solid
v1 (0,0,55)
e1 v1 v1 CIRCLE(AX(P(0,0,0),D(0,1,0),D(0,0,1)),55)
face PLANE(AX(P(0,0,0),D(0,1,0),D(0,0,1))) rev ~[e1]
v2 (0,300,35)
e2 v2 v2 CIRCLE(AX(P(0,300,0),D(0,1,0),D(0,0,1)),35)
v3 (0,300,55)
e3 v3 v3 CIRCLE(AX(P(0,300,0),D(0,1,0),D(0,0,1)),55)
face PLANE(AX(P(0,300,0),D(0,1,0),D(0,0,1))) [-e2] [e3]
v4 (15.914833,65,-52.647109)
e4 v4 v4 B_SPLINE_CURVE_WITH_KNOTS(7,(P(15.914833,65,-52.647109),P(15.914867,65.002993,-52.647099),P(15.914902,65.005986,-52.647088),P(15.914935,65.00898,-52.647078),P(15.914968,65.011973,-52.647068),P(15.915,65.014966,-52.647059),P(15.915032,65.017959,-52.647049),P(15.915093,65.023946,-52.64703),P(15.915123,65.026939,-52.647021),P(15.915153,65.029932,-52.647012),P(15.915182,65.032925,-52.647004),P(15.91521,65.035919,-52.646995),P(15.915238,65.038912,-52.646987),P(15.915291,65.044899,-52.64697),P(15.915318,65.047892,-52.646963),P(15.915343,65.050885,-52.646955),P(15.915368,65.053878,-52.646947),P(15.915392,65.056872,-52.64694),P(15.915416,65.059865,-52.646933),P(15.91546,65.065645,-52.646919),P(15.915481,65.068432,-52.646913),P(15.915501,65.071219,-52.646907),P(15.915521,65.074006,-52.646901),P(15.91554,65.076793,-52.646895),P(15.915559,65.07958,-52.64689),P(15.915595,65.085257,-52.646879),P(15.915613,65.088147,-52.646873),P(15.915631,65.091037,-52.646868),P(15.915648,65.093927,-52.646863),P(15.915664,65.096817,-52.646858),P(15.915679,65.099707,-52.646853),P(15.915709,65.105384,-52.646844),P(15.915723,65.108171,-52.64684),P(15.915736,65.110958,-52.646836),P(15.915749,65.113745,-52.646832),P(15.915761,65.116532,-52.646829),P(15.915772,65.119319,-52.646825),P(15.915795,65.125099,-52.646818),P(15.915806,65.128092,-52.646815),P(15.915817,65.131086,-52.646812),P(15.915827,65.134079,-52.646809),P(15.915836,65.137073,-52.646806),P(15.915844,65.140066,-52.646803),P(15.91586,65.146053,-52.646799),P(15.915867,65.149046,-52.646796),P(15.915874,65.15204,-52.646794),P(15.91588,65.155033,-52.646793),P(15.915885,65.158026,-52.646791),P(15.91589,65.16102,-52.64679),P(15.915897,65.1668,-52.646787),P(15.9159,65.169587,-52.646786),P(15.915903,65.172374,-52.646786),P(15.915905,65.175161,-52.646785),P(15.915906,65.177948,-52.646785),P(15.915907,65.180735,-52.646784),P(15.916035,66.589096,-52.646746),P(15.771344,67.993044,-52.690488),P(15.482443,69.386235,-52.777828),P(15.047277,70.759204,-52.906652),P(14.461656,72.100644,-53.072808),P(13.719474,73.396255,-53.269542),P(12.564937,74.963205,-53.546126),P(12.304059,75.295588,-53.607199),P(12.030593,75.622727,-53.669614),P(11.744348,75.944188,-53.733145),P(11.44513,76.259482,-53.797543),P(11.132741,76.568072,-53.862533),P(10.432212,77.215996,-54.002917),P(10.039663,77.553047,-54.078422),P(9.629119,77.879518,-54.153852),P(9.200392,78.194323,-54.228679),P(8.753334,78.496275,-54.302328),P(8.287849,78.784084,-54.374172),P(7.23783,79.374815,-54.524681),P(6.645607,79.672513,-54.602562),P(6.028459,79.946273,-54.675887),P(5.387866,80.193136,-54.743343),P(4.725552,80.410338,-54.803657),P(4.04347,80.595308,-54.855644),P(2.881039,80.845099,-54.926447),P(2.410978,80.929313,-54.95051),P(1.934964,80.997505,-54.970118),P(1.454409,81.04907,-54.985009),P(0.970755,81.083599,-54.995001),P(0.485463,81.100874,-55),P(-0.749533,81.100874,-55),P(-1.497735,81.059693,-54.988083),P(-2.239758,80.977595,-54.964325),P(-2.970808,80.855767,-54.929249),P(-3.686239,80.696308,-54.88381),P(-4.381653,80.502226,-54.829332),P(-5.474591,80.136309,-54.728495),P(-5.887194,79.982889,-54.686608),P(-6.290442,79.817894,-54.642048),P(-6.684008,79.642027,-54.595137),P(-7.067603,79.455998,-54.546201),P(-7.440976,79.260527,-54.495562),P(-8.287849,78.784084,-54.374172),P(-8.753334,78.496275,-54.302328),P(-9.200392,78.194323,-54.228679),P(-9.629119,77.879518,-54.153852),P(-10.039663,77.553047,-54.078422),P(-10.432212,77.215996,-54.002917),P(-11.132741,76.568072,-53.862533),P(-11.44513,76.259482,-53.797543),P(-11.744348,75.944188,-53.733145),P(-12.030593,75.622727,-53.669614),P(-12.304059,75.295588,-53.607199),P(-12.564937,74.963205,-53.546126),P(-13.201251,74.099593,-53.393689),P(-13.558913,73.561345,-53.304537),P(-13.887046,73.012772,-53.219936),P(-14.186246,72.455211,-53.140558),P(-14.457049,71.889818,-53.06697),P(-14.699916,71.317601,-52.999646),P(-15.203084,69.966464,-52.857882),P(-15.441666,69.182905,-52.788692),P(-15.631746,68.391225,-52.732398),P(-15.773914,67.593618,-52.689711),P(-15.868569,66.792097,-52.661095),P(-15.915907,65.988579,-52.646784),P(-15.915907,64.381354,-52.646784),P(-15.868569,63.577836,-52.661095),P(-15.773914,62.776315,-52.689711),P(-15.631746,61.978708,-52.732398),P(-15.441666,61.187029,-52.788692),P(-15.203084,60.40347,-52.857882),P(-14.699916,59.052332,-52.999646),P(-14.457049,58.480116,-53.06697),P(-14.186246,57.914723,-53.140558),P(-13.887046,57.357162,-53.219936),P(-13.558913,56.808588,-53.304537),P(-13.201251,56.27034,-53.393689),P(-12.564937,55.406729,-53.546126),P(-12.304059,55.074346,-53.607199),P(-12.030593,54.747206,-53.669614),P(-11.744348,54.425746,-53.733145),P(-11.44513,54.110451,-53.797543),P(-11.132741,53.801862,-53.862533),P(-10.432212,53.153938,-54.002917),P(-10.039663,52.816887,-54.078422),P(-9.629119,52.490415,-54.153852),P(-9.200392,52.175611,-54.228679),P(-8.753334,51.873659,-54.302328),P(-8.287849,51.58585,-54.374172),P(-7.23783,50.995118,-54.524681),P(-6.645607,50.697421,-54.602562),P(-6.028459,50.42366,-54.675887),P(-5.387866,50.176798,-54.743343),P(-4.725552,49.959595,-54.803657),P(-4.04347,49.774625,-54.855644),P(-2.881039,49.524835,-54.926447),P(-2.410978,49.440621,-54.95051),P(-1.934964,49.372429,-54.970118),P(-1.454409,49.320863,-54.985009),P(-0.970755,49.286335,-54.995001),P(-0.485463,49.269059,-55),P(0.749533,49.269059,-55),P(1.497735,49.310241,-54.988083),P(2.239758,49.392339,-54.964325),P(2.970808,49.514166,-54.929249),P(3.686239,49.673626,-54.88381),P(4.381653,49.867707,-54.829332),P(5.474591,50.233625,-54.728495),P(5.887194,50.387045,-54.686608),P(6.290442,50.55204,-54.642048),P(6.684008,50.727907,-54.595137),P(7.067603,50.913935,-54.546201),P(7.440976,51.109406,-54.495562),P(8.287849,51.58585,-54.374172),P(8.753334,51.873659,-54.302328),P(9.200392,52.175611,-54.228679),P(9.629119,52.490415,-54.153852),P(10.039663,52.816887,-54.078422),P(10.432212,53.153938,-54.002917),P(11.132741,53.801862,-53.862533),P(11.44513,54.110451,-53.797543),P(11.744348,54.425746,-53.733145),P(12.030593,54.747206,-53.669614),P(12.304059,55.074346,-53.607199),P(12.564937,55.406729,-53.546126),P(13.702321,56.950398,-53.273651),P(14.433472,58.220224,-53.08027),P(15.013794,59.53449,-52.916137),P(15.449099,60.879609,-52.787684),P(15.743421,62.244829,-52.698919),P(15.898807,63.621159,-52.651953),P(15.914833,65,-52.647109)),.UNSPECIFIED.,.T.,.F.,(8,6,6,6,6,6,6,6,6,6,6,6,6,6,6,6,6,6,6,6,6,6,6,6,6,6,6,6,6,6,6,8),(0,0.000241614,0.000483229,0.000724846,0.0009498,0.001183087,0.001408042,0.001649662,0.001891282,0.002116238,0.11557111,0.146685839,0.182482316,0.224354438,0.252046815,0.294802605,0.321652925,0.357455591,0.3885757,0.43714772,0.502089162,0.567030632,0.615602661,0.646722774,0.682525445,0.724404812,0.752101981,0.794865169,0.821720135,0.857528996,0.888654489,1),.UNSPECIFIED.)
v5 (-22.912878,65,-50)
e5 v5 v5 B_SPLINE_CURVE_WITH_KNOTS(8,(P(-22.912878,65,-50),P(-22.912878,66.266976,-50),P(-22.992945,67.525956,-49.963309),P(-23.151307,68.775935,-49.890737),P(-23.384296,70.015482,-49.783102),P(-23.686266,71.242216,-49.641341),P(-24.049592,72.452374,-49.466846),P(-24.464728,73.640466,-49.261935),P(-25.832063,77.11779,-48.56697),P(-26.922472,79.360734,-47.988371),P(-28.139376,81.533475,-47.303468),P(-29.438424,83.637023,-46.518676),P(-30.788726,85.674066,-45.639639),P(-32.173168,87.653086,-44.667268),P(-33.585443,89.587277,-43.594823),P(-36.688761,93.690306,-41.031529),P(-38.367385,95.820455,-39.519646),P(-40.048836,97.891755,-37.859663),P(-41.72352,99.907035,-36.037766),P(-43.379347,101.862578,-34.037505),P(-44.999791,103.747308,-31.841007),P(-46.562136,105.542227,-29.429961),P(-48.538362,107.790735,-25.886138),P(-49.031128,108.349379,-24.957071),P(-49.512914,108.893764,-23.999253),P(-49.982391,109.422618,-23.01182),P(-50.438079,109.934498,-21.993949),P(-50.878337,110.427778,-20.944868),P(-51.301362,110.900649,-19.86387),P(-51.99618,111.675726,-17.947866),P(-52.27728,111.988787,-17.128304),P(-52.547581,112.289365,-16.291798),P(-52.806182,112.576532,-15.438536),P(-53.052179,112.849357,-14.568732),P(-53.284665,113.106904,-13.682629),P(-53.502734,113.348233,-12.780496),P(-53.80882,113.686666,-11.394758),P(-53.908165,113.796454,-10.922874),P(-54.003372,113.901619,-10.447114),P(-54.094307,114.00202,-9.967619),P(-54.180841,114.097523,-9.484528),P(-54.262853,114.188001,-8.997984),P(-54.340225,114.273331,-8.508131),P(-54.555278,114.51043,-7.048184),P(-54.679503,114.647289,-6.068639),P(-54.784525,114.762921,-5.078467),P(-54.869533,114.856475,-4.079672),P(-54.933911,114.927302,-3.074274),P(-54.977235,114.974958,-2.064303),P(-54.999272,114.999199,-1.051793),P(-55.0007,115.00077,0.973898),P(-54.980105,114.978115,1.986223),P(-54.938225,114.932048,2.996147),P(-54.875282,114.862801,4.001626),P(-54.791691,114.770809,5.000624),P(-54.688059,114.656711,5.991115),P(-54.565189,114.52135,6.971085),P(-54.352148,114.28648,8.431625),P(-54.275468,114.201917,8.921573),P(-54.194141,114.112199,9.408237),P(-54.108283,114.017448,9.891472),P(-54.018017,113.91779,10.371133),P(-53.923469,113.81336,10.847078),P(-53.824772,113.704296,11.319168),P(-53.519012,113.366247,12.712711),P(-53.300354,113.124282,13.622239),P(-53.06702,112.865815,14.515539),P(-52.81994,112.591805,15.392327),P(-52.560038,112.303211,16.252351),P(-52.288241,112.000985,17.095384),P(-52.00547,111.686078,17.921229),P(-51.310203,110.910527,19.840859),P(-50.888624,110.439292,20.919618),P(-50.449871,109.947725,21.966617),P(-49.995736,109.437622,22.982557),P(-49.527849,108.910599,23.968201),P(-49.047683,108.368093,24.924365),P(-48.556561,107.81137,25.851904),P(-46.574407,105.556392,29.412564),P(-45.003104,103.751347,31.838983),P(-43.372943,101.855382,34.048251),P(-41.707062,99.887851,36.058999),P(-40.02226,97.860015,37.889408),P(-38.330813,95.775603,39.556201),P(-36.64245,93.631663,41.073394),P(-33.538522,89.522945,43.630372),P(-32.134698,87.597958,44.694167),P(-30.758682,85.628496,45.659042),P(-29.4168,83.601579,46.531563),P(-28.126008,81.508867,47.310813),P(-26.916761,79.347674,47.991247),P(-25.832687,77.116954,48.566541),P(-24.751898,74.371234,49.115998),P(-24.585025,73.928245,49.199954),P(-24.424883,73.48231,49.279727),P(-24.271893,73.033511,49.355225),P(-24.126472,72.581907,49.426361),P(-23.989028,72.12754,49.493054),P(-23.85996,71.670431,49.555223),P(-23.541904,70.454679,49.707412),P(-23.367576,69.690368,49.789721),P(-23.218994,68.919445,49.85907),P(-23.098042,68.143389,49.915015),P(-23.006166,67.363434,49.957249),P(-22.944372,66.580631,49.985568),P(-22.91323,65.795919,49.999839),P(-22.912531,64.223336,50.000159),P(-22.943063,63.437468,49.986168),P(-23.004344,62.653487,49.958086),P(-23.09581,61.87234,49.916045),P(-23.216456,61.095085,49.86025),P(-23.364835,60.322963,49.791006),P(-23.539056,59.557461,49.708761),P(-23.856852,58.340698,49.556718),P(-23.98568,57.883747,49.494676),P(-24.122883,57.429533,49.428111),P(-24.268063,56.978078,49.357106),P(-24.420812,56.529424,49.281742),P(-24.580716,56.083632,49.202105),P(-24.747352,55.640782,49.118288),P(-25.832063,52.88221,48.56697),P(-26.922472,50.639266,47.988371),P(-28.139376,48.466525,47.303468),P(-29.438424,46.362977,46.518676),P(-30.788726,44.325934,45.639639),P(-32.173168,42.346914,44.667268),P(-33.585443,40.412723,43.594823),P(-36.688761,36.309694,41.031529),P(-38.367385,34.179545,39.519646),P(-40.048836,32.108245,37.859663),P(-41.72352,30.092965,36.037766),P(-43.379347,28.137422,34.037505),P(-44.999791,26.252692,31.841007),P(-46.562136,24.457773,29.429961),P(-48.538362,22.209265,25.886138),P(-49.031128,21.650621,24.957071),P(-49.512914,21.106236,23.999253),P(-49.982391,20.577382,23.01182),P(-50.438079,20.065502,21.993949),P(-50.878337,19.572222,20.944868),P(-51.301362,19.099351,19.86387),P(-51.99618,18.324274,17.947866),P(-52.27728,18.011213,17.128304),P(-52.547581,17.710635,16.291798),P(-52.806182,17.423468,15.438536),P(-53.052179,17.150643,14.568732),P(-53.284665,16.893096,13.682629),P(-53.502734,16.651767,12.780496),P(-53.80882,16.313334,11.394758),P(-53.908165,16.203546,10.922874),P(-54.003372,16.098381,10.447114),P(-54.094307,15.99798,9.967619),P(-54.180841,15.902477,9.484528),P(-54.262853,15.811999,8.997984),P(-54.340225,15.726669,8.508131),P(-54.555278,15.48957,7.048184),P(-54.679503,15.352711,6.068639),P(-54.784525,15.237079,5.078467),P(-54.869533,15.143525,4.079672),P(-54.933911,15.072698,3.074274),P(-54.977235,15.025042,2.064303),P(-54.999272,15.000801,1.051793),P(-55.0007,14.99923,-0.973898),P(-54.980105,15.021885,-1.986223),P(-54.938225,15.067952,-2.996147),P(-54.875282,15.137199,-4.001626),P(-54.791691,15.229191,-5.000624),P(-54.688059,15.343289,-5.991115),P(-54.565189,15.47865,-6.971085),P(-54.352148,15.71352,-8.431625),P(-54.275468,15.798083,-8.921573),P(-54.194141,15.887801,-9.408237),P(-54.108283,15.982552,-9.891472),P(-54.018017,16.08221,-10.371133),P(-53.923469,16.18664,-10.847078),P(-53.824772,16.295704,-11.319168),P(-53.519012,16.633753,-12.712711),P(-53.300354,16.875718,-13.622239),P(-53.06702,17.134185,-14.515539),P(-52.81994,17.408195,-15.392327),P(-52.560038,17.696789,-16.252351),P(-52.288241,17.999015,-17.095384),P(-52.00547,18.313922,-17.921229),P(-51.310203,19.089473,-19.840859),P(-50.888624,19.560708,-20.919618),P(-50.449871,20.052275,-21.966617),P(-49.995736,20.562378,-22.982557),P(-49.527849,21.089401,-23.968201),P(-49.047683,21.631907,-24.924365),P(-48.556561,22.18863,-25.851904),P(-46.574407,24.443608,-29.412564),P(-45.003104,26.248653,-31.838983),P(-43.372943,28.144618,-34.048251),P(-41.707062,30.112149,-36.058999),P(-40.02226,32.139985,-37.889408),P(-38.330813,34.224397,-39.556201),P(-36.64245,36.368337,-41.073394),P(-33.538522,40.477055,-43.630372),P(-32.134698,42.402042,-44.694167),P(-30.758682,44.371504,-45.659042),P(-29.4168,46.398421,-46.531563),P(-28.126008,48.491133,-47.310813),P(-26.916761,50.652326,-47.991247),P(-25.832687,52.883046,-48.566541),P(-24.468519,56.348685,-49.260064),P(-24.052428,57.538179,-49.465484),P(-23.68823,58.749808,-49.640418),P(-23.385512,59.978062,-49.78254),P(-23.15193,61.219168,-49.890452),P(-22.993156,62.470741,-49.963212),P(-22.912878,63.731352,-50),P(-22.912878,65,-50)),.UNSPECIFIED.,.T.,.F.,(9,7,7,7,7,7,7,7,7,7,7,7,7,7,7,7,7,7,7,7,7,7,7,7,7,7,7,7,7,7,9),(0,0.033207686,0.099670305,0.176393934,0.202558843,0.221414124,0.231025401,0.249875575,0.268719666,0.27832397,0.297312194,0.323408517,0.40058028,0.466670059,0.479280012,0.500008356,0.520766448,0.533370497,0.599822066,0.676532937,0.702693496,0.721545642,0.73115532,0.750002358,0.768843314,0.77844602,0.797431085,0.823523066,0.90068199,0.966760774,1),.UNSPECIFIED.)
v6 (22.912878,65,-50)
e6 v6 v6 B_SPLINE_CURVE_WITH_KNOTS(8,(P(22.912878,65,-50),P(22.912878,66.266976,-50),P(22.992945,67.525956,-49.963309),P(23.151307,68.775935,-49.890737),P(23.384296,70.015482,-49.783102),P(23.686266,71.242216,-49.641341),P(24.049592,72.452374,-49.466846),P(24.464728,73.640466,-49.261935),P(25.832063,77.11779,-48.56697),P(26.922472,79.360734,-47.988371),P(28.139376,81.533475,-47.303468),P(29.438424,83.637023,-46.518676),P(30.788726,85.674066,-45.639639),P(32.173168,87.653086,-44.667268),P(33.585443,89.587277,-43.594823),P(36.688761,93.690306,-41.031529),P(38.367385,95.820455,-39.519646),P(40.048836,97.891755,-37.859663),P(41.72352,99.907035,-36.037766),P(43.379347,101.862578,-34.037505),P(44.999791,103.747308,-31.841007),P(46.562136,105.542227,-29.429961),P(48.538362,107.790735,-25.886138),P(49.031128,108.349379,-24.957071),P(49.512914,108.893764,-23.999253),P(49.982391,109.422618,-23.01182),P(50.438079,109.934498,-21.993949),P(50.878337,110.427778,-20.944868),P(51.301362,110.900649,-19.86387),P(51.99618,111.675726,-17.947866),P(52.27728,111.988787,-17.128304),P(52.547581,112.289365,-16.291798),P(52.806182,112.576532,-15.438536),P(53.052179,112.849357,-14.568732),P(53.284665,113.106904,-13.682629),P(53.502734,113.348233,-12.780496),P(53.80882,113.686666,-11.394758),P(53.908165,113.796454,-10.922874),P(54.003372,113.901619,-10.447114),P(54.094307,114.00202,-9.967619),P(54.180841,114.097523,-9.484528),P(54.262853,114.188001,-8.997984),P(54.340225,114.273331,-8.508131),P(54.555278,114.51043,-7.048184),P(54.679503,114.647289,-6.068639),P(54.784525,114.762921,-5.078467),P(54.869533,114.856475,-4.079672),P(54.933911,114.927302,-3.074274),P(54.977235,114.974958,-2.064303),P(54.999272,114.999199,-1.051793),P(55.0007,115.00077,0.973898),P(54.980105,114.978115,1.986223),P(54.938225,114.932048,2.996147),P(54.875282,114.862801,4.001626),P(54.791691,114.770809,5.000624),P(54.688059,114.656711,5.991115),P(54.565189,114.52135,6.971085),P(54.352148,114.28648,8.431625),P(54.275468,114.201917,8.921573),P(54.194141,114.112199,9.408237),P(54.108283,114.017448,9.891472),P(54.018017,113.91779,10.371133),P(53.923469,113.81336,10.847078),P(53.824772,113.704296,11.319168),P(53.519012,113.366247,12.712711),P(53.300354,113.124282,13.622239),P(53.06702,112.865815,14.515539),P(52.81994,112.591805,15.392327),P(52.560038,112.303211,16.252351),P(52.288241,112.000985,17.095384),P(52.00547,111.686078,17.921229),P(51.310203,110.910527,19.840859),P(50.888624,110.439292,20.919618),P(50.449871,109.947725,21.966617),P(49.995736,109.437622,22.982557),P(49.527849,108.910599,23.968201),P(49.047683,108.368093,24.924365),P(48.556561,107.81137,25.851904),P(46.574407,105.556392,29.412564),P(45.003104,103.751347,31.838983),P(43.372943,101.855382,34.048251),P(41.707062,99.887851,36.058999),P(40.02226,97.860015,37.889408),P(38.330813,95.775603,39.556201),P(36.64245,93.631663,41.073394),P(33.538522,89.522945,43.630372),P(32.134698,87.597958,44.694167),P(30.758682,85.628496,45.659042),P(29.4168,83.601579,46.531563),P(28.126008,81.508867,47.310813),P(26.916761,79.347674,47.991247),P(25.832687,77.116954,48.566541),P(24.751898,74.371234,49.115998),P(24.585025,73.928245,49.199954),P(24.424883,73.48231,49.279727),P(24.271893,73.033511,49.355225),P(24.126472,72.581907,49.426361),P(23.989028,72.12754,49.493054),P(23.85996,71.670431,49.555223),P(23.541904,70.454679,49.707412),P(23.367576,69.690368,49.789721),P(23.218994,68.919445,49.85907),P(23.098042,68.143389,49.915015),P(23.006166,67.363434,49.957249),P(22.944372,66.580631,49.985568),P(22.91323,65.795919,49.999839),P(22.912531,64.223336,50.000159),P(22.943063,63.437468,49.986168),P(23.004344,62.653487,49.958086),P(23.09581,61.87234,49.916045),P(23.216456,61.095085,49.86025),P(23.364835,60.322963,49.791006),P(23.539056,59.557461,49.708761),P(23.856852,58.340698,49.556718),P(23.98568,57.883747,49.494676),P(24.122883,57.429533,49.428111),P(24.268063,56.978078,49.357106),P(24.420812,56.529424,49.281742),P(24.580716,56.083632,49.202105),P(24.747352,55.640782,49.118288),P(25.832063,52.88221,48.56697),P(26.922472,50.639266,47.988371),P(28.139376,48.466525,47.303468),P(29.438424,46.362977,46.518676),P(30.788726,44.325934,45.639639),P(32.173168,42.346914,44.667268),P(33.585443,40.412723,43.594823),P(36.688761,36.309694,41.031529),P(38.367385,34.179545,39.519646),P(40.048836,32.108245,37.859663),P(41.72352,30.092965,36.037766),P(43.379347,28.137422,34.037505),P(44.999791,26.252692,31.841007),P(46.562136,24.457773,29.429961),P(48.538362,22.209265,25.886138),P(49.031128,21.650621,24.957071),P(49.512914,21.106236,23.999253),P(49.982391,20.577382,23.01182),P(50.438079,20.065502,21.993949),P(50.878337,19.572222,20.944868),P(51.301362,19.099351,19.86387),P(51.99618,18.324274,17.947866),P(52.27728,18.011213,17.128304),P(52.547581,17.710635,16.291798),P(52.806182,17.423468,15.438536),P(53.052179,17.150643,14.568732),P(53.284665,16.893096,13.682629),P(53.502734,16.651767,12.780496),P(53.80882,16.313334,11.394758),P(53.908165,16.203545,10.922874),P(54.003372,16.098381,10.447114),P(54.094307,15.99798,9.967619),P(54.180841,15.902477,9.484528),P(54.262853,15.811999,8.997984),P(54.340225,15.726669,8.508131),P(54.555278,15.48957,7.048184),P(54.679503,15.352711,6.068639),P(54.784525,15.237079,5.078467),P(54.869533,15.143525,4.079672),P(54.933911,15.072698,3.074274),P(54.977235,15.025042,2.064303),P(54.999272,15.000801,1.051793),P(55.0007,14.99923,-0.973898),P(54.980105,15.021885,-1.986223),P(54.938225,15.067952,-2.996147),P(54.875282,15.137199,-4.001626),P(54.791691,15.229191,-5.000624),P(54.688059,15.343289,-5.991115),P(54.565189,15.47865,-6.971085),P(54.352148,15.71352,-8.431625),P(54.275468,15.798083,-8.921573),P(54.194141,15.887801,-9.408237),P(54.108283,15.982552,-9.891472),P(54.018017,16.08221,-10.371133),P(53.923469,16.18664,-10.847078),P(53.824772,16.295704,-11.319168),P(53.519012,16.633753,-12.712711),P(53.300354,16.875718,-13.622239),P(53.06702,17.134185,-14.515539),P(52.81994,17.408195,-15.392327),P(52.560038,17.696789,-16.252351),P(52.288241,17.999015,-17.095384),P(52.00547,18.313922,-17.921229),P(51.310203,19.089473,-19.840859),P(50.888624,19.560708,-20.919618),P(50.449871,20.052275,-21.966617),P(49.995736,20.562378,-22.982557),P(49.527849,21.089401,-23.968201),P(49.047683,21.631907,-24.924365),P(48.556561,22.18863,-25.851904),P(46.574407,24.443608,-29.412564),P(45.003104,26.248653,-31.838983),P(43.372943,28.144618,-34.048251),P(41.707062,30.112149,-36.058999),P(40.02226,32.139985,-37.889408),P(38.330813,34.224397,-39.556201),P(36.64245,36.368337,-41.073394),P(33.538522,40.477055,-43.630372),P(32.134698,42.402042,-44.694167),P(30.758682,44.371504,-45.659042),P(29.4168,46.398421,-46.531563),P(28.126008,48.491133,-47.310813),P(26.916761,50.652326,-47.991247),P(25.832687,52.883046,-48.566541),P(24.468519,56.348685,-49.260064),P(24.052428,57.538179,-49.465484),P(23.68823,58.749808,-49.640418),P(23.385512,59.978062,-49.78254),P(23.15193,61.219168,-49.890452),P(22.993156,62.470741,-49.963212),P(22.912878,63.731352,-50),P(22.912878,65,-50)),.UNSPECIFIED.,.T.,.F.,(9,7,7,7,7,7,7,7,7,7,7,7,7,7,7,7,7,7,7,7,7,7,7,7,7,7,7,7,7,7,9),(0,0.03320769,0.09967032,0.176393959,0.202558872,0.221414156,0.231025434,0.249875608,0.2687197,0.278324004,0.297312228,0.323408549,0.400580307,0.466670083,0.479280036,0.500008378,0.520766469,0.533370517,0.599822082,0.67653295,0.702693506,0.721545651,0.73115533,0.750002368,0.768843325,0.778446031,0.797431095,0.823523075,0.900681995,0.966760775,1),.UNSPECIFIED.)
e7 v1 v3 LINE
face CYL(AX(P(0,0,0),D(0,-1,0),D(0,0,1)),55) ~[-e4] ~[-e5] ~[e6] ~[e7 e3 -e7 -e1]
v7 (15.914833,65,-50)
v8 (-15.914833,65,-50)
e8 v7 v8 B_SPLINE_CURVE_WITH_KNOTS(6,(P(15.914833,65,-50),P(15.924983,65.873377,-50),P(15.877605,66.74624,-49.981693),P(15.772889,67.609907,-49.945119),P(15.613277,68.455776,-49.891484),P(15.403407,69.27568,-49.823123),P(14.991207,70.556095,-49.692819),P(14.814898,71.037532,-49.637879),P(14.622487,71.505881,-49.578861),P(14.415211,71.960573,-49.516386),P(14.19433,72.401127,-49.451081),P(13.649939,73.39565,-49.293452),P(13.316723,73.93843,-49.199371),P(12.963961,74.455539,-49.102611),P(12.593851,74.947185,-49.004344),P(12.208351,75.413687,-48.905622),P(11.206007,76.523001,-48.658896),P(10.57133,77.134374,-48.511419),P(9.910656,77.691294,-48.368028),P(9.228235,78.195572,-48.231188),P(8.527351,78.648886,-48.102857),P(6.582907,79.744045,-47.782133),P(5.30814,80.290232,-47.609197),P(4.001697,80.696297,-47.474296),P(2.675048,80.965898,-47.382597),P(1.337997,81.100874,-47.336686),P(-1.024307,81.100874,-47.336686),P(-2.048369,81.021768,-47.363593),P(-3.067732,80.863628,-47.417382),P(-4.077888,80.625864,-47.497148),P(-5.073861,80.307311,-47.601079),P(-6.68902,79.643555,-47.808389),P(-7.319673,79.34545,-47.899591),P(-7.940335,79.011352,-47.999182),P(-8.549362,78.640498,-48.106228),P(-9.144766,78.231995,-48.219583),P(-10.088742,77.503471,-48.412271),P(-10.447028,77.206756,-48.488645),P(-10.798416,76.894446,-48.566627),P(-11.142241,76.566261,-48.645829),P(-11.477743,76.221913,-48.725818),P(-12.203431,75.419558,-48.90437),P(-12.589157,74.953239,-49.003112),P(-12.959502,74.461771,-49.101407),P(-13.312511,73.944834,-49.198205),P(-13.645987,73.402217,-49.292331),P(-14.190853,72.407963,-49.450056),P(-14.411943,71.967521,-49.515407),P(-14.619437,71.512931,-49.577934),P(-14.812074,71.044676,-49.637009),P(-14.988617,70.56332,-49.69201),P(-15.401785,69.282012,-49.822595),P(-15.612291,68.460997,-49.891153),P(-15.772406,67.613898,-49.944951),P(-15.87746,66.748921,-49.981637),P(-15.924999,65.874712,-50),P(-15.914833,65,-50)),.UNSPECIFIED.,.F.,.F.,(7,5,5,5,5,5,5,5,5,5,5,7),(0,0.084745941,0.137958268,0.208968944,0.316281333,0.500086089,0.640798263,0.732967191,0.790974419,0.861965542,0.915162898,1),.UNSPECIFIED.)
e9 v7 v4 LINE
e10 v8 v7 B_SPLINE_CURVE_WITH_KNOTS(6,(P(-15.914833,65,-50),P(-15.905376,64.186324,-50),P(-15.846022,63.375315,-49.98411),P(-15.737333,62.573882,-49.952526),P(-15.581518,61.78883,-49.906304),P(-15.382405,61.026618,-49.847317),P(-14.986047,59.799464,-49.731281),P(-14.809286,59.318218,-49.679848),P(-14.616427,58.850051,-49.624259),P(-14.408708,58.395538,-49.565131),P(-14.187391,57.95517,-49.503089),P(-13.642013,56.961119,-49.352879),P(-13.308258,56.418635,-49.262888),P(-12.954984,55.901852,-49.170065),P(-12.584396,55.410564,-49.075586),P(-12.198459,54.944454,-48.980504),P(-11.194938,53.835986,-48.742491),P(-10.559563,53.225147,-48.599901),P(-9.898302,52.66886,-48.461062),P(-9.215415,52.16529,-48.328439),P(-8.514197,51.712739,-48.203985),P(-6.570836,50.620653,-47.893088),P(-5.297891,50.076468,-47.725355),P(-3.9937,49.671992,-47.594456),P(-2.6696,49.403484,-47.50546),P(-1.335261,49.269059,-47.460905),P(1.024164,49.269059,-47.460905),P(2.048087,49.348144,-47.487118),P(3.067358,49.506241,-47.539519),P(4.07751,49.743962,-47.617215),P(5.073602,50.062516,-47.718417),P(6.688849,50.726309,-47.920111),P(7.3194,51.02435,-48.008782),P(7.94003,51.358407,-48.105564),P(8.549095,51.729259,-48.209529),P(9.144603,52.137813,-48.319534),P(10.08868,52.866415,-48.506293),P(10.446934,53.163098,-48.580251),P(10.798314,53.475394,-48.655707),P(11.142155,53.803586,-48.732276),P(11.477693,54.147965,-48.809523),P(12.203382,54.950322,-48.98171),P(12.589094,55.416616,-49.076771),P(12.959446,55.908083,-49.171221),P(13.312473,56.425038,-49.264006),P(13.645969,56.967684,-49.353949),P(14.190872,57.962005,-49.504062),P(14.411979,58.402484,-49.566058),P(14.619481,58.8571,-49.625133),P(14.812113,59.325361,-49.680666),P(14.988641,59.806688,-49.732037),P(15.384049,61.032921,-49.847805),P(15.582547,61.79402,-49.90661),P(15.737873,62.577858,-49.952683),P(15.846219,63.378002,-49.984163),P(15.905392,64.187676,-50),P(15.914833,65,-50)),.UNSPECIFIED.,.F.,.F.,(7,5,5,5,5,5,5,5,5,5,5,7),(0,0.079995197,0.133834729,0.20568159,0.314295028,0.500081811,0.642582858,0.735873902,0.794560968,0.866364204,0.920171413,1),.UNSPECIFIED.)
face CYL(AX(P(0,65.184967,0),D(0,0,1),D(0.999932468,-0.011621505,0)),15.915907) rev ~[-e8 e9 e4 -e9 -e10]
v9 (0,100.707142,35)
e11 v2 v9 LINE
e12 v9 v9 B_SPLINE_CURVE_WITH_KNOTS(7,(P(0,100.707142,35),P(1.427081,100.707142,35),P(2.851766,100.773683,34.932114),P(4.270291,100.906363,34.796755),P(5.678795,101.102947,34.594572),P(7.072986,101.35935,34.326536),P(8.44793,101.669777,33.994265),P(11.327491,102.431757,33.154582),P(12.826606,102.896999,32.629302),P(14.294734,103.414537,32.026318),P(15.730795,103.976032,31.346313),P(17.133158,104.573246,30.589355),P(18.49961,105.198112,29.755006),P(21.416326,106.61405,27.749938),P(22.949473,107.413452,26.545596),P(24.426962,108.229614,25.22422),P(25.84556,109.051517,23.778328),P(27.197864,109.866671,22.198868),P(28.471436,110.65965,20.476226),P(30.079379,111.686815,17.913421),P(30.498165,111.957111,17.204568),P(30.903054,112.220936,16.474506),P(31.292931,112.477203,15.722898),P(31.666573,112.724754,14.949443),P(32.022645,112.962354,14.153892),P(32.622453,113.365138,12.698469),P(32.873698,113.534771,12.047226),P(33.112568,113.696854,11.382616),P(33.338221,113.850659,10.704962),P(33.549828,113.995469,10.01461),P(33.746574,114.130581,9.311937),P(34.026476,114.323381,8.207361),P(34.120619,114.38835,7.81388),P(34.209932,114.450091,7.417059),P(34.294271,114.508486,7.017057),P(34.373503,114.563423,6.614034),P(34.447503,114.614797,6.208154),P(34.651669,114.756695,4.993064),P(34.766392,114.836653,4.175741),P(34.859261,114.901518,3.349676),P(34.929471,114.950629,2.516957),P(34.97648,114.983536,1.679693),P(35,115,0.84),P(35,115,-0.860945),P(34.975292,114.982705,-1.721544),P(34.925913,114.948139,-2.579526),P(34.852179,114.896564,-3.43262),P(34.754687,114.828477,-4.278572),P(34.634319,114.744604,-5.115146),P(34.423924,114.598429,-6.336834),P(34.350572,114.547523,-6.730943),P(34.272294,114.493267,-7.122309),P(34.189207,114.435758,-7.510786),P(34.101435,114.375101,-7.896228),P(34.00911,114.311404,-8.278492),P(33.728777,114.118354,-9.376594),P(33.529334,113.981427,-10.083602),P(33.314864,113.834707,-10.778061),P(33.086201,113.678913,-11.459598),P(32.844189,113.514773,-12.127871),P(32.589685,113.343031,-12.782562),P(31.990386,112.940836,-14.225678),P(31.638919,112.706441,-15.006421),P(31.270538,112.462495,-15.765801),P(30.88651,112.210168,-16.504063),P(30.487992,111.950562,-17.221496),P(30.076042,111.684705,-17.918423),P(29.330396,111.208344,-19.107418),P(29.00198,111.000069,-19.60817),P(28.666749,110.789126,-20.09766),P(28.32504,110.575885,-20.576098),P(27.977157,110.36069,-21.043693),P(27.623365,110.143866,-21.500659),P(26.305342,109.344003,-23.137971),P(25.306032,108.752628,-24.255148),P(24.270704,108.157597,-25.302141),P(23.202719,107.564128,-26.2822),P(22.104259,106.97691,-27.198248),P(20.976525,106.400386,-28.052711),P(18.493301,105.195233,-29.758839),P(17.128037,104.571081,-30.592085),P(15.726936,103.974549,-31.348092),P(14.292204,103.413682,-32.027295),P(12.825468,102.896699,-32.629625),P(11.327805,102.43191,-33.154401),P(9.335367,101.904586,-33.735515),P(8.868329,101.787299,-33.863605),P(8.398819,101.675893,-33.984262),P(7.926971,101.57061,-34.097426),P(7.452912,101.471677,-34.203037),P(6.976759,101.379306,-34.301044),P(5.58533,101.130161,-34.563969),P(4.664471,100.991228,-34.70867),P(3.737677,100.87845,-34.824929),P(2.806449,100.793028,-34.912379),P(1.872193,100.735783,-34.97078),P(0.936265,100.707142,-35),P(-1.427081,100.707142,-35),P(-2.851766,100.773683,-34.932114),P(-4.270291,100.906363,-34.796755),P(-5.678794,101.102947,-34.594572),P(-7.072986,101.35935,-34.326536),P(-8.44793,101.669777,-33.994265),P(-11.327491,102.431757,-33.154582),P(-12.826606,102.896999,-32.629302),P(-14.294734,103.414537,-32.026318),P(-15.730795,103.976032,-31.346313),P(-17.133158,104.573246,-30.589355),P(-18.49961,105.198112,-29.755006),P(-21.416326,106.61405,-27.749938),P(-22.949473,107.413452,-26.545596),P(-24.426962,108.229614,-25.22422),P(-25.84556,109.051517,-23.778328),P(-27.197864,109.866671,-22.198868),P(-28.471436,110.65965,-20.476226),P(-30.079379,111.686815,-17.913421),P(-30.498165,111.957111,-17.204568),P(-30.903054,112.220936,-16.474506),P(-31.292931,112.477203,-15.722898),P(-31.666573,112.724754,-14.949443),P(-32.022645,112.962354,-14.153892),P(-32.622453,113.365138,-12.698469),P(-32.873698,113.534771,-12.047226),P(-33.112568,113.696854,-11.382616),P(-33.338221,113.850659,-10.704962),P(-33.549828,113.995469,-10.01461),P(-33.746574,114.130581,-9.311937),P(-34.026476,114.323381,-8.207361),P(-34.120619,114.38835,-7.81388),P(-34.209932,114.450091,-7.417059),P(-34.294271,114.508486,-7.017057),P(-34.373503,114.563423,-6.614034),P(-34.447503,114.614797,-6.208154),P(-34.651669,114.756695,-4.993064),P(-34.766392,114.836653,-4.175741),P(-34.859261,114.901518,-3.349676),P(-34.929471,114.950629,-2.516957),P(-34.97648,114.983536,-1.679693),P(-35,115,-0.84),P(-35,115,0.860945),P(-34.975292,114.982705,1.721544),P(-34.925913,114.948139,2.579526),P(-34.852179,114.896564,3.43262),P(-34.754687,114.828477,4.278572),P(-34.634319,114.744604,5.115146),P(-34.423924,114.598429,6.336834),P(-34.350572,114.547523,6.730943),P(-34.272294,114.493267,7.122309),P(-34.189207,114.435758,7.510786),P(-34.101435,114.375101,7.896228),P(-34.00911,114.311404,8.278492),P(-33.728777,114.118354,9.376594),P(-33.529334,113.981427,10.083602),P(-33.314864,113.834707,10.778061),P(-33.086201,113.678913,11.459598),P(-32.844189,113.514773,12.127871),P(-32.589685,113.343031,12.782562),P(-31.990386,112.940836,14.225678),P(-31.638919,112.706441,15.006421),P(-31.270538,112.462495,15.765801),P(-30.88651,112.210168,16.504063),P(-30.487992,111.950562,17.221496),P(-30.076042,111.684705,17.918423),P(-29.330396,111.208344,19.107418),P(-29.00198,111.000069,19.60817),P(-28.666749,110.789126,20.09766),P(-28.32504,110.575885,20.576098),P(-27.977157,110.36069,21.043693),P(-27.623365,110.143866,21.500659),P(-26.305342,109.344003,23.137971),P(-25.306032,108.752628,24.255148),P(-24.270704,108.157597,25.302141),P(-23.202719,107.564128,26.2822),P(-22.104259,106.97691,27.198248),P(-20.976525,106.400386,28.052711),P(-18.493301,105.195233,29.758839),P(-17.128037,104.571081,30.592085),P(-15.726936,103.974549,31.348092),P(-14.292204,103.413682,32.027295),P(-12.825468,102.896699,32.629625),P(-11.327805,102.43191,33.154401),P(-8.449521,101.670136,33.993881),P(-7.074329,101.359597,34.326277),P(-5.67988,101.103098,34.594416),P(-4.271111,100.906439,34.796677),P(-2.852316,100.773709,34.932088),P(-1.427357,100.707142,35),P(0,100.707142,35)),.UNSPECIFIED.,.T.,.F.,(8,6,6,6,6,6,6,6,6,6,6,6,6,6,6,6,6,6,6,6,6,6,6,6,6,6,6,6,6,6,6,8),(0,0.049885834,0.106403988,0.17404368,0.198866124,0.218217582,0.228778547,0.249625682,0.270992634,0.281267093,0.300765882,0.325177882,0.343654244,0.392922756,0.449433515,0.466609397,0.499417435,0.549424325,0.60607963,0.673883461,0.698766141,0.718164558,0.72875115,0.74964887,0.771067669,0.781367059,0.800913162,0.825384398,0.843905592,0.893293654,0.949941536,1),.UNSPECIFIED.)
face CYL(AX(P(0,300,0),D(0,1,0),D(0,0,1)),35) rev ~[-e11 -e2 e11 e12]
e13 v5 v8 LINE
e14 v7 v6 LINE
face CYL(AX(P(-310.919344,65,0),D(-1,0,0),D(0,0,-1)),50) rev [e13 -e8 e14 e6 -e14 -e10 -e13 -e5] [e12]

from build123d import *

# Parameters (mm, degrees)
SKETCH1_R               = 55
BOSS_EXTRUDE1_DEPTH     = 300
CUT_EXTRUDE2_DEPTH      = 310.919344346
CUT_EXTRUDE2_DEPTH_BACK = 310.919344346
SKETCH5_R               = 50
SKETCH9_R               = 35
CUT_EXTRUDE3_DEPTH      = 211
SKETCH10_R              = 15.915907465
CUT_EXTRUDE4_DEPTH      = 177


with BuildPart() as part:
    # Sketch1 → Boss-Extrude1 (new body)
    with BuildSketch(Plane(origin=(0, 0, 0), x_dir=(1, 0, 0), z_dir=(0, 1, 0))):
        with Locations(Location((0, 0, 0), (0, 0, 270))):
            Circle(SKETCH1_R)
    extrude(amount=BOSS_EXTRUDE1_DEPTH)

    # Sketch5 → Cut-Extrude2 (cut, two sides: drawn at the far end of the back side and taken through both)
    with BuildSketch(Plane(origin=(0, 0, 0), x_dir=(0, 0, -1), z_dir=(1, 0, 0)).offset(-CUT_EXTRUDE2_DEPTH_BACK)):
        with Locations((0, 65)):
            Circle(SKETCH5_R)
    extrude(amount=CUT_EXTRUDE2_DEPTH + CUT_EXTRUDE2_DEPTH_BACK, mode=Mode.SUBTRACT)

    # Sketch9 → Cut-Extrude3 (cut)
    with BuildSketch(Plane(origin=(0, 300, 0), x_dir=(1, 0, 0), z_dir=(0, 1, 0))):
        with Locations(Location((0, 0, 0), (0, 0, 270))):
            Circle(SKETCH9_R)
    extrude(amount=-CUT_EXTRUDE3_DEPTH, mode=Mode.SUBTRACT)

    # Sketch10 → Cut-Extrude4 (cut)
    with BuildSketch(Plane.XY):
        with Locations(Location((0, 65.184966797, 0), (0, 0, 359.334121801))):
            Circle(SKETCH10_R)
    extrude(amount=-CUT_EXTRUDE4_DEPTH, mode=Mode.SUBTRACT)


solid = part.part
